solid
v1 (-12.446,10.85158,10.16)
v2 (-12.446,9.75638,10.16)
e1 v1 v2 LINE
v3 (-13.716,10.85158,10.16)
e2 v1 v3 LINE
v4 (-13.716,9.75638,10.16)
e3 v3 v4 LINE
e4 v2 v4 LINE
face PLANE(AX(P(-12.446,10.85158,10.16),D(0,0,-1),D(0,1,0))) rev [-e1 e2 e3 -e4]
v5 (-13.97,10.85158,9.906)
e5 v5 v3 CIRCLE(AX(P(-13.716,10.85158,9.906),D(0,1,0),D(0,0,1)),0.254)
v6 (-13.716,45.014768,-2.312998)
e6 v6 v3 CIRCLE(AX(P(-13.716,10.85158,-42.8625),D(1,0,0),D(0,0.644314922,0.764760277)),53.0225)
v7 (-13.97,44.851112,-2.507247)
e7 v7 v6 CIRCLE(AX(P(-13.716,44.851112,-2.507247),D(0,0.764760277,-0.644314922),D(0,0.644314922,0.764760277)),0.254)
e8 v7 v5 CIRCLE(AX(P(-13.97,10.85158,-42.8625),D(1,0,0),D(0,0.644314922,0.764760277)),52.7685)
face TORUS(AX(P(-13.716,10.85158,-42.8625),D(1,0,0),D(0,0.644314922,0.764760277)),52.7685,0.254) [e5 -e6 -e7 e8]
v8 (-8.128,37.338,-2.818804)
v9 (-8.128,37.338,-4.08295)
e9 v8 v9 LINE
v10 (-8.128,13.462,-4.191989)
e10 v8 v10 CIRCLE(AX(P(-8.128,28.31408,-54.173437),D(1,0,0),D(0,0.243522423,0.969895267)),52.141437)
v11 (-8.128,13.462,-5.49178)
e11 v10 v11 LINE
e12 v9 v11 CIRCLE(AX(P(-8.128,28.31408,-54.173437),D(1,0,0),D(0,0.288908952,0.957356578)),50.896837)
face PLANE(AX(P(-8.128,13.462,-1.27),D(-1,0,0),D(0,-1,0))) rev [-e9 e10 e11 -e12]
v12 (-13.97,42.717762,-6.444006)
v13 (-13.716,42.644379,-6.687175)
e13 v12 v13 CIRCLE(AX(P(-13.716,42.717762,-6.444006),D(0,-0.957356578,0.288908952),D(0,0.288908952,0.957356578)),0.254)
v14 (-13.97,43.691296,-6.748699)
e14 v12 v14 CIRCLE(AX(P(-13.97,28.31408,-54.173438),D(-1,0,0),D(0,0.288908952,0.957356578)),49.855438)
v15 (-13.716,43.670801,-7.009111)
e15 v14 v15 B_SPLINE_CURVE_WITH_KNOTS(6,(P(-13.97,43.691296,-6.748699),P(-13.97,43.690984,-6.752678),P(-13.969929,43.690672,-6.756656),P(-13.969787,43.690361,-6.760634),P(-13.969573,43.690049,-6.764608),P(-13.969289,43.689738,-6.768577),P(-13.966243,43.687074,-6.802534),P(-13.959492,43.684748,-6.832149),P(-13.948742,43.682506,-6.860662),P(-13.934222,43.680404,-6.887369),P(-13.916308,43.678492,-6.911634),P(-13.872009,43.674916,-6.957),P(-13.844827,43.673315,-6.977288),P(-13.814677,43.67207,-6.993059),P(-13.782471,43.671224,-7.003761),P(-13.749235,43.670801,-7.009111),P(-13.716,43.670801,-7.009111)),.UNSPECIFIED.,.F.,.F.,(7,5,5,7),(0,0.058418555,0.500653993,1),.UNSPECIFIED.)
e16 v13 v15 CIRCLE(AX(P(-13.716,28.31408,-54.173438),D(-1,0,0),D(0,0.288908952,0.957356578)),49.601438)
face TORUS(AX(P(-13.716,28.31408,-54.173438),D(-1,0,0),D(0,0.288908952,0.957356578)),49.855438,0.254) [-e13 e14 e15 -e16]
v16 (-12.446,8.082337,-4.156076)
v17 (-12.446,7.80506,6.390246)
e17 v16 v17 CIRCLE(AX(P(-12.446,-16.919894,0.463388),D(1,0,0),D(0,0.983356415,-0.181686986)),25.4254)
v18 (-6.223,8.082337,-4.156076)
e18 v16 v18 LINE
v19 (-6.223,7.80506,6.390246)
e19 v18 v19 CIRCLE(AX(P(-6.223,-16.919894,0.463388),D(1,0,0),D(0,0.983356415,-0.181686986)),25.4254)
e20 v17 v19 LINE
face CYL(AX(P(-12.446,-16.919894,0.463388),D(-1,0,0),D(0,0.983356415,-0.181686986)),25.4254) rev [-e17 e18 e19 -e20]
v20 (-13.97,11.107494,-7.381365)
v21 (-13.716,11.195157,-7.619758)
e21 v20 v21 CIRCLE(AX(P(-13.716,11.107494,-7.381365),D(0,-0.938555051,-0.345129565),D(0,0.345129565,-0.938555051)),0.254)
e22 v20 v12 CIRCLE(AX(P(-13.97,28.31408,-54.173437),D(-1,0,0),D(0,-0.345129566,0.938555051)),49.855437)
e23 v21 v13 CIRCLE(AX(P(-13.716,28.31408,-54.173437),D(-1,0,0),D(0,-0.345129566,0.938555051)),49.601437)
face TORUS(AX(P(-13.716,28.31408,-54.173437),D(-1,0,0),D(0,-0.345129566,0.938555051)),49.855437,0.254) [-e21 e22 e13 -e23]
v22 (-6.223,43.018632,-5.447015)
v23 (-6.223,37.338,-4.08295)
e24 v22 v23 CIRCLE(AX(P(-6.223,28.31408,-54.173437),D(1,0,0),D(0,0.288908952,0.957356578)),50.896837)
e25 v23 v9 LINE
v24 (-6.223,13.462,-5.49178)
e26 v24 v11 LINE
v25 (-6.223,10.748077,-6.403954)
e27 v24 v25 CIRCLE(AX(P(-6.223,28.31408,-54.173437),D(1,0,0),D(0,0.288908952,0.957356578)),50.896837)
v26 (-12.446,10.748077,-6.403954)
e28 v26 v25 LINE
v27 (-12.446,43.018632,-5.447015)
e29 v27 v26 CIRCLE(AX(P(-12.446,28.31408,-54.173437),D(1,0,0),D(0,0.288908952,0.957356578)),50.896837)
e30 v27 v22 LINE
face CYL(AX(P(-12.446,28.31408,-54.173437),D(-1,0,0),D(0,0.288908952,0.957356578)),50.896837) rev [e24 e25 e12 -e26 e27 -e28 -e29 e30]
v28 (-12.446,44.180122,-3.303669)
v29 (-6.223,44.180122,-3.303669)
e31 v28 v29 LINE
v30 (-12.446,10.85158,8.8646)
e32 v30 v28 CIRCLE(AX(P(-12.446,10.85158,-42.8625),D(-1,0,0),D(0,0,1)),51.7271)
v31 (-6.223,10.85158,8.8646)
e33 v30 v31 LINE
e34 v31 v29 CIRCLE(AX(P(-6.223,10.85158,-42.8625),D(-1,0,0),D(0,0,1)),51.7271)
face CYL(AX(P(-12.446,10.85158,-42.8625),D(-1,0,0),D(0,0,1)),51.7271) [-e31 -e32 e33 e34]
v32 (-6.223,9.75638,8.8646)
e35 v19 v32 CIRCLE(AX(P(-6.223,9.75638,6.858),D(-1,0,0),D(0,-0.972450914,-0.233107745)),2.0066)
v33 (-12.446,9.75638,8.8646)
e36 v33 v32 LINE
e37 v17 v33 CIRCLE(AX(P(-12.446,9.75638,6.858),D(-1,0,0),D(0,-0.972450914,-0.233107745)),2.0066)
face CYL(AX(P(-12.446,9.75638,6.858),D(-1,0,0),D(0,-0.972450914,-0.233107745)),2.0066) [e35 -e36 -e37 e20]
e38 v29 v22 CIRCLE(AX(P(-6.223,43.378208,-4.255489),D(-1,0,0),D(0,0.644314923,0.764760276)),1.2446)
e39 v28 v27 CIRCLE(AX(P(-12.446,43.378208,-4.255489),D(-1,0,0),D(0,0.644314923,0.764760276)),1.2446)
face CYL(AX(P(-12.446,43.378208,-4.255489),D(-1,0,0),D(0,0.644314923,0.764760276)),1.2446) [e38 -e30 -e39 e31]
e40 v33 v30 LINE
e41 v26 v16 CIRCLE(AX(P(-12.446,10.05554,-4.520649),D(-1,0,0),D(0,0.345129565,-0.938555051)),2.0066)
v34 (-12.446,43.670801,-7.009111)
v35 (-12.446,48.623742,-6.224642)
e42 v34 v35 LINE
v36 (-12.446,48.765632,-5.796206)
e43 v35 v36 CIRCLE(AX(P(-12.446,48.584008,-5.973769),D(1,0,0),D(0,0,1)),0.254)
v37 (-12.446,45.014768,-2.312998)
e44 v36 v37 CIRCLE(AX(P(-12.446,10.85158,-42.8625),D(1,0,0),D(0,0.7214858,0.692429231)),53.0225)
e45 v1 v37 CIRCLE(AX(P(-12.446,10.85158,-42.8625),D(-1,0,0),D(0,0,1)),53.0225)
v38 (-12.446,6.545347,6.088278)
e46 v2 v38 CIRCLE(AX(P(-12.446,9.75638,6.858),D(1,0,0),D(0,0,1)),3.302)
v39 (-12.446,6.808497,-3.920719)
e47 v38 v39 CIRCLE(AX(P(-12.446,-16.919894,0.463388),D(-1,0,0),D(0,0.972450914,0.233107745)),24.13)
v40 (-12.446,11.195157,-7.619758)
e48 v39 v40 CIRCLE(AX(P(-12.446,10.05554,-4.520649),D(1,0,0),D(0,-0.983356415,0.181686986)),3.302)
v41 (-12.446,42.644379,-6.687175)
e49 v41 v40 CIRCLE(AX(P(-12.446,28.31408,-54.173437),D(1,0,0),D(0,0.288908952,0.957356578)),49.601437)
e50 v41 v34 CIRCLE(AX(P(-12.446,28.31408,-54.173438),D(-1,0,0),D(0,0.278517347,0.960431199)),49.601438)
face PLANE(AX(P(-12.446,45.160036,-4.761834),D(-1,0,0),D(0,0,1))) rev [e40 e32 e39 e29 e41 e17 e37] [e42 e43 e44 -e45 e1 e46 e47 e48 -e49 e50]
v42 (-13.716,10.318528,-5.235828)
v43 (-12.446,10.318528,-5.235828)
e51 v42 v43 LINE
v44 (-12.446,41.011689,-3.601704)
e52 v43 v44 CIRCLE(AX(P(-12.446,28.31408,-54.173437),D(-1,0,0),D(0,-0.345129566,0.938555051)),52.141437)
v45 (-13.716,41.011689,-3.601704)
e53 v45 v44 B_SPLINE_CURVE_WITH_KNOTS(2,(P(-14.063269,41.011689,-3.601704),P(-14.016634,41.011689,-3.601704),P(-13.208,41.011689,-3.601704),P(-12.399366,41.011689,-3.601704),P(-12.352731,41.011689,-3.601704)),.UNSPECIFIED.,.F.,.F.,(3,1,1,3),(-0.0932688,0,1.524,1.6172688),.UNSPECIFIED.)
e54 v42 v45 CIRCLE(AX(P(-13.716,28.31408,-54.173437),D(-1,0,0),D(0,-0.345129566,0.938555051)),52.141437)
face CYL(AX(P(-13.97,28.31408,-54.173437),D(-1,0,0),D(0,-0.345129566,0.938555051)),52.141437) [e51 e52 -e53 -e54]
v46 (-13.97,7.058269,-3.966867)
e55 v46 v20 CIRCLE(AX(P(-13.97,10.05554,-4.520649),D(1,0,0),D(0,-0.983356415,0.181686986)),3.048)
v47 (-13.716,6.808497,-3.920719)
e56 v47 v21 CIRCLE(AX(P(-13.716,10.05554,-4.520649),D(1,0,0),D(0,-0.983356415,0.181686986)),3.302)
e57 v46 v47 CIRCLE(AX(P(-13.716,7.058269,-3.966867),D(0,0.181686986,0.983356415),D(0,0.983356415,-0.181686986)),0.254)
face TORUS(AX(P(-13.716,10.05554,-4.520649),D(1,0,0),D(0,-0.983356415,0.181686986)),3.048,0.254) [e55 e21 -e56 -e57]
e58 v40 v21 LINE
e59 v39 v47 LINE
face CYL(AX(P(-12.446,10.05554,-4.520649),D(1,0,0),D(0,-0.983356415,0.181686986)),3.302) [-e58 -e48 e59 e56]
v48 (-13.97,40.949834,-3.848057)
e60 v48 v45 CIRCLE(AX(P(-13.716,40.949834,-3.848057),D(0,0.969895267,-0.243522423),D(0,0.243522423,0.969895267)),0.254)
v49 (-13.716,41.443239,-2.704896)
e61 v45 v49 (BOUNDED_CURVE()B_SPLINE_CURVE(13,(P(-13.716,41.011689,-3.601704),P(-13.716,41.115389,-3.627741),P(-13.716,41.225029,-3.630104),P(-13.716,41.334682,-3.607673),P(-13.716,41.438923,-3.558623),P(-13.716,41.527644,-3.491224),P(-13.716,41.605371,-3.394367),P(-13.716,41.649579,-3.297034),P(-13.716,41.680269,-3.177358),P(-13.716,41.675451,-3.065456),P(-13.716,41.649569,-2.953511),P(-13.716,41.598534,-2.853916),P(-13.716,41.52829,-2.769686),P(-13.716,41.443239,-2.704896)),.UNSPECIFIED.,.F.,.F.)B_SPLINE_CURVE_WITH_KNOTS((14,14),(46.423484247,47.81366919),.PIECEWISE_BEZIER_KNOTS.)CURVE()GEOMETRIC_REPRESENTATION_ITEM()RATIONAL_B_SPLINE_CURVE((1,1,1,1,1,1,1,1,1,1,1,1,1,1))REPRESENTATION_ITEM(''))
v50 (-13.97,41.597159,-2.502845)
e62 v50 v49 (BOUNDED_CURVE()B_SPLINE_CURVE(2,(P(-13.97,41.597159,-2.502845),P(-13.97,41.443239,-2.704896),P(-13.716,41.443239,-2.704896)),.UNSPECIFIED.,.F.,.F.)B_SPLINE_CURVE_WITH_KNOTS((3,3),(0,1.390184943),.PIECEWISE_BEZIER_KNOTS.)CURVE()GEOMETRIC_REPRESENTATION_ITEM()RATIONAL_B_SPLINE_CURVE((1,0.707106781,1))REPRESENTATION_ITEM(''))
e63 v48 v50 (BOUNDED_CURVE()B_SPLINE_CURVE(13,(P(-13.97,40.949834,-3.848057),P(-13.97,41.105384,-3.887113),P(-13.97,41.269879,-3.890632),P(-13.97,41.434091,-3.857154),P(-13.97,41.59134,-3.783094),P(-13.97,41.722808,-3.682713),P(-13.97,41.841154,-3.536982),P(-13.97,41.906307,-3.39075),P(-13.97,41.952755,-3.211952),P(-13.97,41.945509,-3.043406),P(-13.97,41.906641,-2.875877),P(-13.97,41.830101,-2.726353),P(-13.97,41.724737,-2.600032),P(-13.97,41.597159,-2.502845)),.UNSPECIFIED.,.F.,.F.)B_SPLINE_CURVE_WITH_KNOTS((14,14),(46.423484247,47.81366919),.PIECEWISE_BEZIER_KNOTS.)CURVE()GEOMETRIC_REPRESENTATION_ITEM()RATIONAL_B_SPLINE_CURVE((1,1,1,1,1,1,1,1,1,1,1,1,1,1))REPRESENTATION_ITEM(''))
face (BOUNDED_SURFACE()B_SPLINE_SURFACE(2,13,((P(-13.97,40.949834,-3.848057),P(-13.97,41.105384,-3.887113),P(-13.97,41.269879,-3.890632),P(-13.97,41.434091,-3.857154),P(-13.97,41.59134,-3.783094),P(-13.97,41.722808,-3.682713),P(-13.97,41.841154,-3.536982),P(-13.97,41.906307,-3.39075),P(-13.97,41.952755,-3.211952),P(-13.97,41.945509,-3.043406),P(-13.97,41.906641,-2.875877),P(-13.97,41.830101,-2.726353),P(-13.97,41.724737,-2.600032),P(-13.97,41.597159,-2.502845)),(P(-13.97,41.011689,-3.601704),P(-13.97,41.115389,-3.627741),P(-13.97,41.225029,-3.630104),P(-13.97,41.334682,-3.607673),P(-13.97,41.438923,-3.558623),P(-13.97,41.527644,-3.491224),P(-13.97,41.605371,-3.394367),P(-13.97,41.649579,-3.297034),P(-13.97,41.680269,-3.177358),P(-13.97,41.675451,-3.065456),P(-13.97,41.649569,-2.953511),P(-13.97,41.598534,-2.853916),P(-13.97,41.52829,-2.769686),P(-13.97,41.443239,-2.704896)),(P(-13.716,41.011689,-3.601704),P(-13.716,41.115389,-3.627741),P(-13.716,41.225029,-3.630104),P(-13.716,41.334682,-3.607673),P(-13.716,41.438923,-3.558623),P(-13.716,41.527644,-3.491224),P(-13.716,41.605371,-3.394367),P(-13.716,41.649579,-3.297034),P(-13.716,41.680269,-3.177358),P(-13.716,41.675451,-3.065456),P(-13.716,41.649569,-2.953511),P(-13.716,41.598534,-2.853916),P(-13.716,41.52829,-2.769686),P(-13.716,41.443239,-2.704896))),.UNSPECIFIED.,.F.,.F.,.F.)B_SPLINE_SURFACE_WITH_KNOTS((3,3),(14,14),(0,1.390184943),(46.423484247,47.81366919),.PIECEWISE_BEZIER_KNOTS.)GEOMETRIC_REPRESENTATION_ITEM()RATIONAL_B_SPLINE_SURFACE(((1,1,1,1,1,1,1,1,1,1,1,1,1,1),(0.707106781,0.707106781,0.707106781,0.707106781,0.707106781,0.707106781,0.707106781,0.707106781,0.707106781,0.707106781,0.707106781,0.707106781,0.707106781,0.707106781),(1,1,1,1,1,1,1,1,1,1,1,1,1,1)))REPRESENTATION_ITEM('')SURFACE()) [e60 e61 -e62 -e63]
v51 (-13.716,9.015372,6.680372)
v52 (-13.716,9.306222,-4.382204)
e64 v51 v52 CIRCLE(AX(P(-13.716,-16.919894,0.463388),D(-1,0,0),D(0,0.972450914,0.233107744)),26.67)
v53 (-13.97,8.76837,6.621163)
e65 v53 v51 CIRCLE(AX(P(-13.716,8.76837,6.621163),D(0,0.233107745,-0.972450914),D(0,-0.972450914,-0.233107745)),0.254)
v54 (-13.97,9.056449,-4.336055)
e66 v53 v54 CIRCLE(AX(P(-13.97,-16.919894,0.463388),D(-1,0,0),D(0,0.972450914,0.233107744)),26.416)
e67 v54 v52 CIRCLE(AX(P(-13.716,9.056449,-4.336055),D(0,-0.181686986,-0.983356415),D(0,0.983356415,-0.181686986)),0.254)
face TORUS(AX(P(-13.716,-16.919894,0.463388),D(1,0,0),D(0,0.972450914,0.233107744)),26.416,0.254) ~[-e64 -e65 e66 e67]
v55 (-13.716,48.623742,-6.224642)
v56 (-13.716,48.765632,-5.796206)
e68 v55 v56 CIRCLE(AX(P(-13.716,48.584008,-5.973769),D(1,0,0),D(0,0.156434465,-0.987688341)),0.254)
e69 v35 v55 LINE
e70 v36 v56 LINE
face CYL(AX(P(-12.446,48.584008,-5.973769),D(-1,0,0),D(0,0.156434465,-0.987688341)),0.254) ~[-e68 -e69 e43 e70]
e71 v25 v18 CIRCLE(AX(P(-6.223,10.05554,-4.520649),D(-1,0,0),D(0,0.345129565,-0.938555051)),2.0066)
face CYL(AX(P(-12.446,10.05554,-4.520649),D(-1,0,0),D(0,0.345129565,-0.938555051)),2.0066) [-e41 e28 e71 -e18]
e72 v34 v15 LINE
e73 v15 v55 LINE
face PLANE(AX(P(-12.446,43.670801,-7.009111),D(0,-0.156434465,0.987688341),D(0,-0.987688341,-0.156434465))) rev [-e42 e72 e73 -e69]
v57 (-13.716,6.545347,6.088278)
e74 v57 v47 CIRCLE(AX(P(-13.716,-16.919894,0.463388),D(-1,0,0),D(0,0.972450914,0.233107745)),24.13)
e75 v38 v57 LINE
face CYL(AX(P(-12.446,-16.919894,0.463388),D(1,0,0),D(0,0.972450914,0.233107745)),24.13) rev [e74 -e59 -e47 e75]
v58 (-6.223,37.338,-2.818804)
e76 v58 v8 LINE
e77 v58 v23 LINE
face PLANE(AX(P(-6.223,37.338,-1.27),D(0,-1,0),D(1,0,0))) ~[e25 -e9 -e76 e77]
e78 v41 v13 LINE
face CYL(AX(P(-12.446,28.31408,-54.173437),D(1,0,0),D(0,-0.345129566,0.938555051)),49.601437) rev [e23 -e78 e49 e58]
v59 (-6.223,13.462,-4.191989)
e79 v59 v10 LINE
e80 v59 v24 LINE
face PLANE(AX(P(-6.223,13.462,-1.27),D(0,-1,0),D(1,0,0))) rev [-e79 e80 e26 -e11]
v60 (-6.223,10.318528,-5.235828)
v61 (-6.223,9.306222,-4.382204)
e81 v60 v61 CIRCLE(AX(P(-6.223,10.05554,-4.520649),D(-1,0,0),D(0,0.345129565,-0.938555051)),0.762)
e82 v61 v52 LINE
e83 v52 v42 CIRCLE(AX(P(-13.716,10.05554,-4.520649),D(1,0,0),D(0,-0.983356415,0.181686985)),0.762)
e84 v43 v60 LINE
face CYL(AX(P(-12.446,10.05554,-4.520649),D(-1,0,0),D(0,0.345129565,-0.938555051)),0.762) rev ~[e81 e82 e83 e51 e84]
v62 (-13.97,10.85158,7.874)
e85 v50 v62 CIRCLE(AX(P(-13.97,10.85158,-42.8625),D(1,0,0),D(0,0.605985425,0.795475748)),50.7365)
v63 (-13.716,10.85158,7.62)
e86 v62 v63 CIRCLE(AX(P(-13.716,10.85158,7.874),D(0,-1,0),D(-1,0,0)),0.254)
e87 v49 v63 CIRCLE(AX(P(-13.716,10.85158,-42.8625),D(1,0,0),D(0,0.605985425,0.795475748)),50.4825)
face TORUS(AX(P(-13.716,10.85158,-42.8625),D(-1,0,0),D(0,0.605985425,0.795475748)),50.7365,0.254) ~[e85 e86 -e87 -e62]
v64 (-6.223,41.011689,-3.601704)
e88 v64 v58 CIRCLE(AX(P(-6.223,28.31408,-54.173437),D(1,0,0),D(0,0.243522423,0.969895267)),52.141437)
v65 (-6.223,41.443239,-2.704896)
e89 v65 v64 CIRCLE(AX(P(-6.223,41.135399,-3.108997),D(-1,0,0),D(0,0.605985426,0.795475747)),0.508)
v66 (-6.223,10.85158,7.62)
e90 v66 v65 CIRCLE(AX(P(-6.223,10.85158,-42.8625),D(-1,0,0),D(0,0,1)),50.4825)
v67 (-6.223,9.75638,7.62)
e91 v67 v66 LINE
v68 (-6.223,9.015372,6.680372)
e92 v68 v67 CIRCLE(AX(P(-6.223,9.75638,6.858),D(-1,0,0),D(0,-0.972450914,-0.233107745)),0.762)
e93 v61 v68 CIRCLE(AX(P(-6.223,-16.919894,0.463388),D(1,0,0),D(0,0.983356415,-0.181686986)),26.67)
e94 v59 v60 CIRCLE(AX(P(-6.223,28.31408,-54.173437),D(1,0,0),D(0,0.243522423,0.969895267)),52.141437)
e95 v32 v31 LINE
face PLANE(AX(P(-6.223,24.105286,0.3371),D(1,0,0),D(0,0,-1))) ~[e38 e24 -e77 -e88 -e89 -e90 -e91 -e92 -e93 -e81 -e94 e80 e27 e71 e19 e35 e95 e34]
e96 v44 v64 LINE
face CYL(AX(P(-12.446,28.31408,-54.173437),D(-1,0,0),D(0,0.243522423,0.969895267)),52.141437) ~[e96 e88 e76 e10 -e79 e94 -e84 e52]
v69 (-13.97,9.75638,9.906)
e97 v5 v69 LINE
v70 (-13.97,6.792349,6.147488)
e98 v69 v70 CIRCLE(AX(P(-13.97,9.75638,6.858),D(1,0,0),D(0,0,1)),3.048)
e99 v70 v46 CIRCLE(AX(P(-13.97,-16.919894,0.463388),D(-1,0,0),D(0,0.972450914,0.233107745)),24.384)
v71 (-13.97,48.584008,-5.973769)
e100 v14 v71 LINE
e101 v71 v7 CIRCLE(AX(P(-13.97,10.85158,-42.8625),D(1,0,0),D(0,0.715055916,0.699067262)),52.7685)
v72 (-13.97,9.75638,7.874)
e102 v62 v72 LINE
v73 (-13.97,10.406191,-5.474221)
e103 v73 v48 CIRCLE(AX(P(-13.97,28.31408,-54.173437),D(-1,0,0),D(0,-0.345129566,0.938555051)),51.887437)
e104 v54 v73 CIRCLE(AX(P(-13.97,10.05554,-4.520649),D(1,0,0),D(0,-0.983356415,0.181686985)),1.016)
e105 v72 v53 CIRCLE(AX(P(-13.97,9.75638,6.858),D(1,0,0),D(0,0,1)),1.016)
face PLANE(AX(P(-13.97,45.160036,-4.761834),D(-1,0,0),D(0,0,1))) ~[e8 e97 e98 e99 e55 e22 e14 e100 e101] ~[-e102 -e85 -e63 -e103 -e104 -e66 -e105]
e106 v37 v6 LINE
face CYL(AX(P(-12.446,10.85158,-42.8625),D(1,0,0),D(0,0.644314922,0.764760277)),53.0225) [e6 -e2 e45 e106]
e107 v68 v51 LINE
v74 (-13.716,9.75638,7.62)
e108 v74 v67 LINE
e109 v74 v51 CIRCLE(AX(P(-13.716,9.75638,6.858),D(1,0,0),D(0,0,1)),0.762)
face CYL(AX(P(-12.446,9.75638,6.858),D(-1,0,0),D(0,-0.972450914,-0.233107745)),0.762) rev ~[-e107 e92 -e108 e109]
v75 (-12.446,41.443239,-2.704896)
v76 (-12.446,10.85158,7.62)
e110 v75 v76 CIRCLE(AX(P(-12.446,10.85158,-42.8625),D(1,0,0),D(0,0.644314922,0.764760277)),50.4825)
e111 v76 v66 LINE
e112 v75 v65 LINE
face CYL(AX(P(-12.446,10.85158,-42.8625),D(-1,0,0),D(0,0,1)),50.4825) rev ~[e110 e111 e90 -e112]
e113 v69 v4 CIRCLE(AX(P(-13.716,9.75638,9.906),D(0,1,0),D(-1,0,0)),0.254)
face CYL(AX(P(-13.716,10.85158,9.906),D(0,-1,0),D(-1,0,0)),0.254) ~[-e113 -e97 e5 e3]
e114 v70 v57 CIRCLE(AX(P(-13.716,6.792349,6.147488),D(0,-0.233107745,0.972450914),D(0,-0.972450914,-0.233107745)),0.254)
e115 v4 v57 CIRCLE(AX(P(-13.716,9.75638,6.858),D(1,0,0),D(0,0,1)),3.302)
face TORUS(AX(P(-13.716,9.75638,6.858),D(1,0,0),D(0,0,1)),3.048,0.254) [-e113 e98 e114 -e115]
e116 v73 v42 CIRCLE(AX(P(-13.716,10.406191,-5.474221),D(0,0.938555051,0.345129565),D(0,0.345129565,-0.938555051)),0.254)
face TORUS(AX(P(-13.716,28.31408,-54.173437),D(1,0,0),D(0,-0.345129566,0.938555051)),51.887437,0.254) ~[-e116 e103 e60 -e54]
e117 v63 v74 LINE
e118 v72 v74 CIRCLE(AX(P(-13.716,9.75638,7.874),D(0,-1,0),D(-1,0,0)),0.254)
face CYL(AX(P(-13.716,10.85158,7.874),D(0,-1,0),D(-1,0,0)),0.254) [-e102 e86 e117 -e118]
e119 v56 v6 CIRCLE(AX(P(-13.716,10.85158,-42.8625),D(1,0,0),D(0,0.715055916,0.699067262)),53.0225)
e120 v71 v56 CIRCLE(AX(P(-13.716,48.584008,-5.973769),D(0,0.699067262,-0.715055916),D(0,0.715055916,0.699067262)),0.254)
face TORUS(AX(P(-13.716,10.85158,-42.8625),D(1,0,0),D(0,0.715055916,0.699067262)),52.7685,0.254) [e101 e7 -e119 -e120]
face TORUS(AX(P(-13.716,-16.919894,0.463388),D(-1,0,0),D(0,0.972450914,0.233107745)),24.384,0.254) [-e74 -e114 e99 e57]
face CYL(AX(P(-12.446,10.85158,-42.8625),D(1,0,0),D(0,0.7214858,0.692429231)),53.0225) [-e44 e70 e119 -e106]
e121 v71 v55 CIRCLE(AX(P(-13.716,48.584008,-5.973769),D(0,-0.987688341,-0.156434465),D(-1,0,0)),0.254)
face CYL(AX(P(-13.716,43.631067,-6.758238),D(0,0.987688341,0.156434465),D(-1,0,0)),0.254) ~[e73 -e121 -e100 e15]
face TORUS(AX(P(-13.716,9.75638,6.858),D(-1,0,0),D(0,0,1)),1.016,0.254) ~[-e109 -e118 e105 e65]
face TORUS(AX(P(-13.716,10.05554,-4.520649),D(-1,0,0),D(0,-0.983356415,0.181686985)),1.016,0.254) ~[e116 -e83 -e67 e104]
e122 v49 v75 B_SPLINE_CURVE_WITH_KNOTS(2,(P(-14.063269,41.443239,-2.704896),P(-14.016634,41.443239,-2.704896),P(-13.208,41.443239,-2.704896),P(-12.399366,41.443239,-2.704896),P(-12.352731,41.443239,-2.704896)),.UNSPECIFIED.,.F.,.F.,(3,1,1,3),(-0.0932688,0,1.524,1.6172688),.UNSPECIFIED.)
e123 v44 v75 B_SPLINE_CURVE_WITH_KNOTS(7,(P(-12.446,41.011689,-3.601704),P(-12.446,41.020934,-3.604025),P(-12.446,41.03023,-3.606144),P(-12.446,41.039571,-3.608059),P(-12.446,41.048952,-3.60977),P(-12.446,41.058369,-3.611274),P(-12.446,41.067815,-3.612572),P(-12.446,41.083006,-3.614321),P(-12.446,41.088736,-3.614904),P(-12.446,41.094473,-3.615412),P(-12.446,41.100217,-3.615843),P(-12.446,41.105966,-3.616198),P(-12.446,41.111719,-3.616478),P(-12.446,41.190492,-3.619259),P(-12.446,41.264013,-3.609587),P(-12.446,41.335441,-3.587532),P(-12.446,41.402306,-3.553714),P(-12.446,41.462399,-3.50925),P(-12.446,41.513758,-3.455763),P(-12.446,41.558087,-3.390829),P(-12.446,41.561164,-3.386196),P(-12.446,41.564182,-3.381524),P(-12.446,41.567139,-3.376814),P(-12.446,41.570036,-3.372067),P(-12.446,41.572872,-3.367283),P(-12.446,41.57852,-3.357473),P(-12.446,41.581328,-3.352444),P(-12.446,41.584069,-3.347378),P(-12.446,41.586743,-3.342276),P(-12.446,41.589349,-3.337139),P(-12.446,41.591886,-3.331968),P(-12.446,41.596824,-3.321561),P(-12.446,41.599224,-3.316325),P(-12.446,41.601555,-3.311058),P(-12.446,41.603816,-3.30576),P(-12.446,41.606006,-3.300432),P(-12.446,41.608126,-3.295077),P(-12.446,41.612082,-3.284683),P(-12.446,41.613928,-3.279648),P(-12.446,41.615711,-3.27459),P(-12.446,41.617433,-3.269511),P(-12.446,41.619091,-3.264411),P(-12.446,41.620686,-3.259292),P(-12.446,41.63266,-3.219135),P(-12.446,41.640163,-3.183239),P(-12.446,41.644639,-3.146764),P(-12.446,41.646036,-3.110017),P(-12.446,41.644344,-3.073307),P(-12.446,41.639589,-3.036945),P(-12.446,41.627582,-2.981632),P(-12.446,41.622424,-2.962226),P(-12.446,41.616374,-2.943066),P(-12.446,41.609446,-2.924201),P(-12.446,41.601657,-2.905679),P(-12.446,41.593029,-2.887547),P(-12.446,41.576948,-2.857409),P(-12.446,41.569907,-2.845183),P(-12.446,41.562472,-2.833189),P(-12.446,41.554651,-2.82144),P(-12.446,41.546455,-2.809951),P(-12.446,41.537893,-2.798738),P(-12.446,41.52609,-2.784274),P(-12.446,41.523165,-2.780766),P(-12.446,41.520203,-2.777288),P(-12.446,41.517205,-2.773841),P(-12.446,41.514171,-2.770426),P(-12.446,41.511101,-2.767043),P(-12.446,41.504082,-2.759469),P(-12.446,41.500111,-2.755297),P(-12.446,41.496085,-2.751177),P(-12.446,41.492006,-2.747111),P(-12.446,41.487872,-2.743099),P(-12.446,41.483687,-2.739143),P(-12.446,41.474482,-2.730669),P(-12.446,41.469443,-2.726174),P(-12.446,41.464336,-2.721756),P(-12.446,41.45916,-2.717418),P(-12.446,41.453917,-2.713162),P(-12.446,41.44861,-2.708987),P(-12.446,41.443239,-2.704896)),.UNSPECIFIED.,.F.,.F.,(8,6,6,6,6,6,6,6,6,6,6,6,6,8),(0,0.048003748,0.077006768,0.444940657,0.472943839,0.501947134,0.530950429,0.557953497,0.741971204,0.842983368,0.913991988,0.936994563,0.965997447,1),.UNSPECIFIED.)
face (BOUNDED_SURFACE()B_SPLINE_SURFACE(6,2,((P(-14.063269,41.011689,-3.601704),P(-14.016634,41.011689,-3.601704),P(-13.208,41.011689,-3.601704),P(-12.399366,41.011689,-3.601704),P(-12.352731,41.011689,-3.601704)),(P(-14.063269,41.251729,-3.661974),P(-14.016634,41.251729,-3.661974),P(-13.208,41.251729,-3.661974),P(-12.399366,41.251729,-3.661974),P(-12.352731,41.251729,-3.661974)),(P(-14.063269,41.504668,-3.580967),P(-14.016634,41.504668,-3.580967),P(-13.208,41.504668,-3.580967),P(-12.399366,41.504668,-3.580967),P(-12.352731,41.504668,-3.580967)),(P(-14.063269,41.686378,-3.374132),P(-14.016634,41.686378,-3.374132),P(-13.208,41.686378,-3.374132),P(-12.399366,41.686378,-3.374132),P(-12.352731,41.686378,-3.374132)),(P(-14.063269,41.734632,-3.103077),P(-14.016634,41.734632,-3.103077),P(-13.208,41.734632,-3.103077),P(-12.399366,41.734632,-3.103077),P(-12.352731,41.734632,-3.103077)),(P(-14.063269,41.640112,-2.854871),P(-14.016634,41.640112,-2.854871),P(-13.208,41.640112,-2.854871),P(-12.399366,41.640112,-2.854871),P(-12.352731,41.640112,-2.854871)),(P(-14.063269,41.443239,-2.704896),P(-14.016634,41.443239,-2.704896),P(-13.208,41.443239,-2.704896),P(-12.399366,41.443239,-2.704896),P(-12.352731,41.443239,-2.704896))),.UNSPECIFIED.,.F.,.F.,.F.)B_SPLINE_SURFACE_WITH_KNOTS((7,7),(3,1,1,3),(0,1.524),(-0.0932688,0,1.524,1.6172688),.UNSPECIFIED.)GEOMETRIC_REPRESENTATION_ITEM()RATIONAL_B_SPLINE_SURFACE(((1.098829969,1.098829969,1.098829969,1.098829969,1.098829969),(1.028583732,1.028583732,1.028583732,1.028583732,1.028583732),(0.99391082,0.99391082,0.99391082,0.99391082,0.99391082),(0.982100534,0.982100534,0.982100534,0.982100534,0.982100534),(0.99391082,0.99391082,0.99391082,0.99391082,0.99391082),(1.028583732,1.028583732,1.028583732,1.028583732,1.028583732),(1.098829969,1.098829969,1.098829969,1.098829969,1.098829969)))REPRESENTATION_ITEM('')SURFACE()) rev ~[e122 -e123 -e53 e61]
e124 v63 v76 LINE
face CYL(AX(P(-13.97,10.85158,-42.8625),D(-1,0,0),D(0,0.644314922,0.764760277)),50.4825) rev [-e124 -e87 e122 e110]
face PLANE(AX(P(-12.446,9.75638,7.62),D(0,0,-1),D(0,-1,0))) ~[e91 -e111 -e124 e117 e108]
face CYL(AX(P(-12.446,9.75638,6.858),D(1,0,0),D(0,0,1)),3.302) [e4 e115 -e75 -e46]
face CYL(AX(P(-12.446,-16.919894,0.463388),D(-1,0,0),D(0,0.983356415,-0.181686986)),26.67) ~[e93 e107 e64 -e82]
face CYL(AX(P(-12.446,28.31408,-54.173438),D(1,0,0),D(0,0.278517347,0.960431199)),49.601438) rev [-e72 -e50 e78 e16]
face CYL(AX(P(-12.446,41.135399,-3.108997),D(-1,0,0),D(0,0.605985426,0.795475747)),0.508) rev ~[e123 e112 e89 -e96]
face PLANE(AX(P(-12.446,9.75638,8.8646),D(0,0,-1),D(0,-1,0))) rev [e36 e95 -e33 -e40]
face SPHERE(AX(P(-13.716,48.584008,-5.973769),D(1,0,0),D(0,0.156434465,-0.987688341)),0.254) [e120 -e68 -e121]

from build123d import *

# Parameters (mm, degrees)
BOSS_EXTRUDE1_DEPTH = 1.524
CUT_EXTRUDE1_DEPTH  = 1.524
FILLET1_R           = 0.508
BOSS_EXTRUDE2_DEPTH = 6.223
BOSS_EXTRUDE3_START = -1.524
BOSS_EXTRUDE3_DEPTH = 1.524
CUT_EXTRUDE2_START  = -6.223
CUT_EXTRUDE2_DEPTH  = 6.223
FILLET2_R           = 0.254
SKETCH9_W           = 1.905
SKETCH9_H           = 23.876
CUT_EXTRUDE4_DEPTH  = 51.542276073
FILLET3_R           = 0.254


with BuildPart() as part:
    # Sketch2 → Boss-Extrude1 (new body)
    with BuildSketch(Plane(origin=(0, 0, 0), x_dir=(0, 0, -1), z_dir=(1, 0, 0))):
        with BuildLine():
            Line((-10.16, 10.851579944), (-10.16, 9.756379827))
            ThreePointArc((-10.16, 9.756379827), (-8.902698353, 7.16361824), (-6.088278228, 6.54534691))
            ThreePointArc((-6.088278228, 6.54534691), (-1.097578785, 7.201770952), (3.920718614, 6.808496661))
            ThreePointArc((3.920718614, 6.808496661), (7.044965017, 7.926917254), (7.619757818, 11.195157369))
            ThreePointArc((7.619757818, 11.195157369), (4.593793799, 26.843864795), (6.687175028, 42.644379261))
            ThreePointArc((6.687175028, 42.644379261), (5.465660141, 45.611386582), (2.312998216, 45.014767901))
            ThreePointArc((2.312998216, 45.014767901), (-6.944233805, 29.036045126), (-10.16, 10.851579944))
        make_face()
    extrude(amount=BOSS_EXTRUDE1_DEPTH)

    # Sketch3 → Cut-Extrude1 (cut)
    with BuildSketch(Plane(origin=(1.524, 0, 0), x_dir=(0, 0, -1), z_dir=(1, 0, 0))):
        with BuildLine():
            Line((-7.62, 10.851579944), (-7.62, 9.756379827))
            ThreePointArc((-7.62, 9.756379827), (-7.329853466, 9.15805023), (-6.680371899, 9.015372231))
            ThreePointArc((-6.680371899, 9.015372231), (-1.164335672, 9.74089354), (4.382203558, 9.306221955))
            ThreePointArc((4.382203558, 9.306221955), (5.103183497, 9.564319015), (5.23582799, 10.318528273))
            ThreePointArc((5.23582799, 10.318528273), (2.05490982, 26.768577734), (4.25548932, 43.378207999))
            ThreePointArc((4.25548932, 43.378207999), (-4.558282485, 28.164933022), (-7.62, 10.851579944))
        make_face()
    extrude(amount=-CUT_EXTRUDE1_DEPTH, mode=Mode.SUBTRACT)

    # Fillet1
    fillet1_edges = [part.edges().sort_by_distance(p)[0] for p in [
        (0.762, 43.378207999, -4.25548932),
    ]]
    fillet(fillet1_edges, radius=FILLET1_R)

    # Sketch4 → Boss-Extrude2 (add)
    with BuildSketch(Plane.ZY):
        with BuildLine():
            Line((8.89, 9.756379827), (8.89, 10.851579944))
            ThreePointArc((8.89, 10.851579944), (5.751258145, 28.600489074), (-3.284243768, 44.19648795))
            ThreePointArc((-3.284243768, 44.19648795), (-4.86057473, 44.49479729), (-5.471332174, 43.01129363))
            ThreePointArc((-5.471332174, 43.01129363), (-3.32435181, 26.806221264), (-6.427792904, 10.756842821))
            ThreePointArc((-6.427792904, 10.756842821), (-6.074074257, 8.745618135), (-4.151461086, 8.057359308))
            ThreePointArc((-4.151461086, 8.057359308), (1.130957229, 8.471332246), (6.384325063, 7.78035957))
            ThreePointArc((6.384325063, 7.78035957), (8.116275909, 8.160834235), (8.89, 9.756379827))
        make_face()
        with BuildLine():
            Line((7.62, 9.756379827), (7.62, 10.851579944))
            ThreePointArc((7.62, 10.851579944), (4.96917921, 26.995100943), (-2.704895567, 41.443239142))
            ThreePointArc((-2.704895567, 41.443239142), (-3.329273356, 41.593156599), (-3.601704042, 41.011689155))
            ThreePointArc((-3.601704042, 41.011689155), (-2.10574247, 25.541961828), (-5.23582799, 10.318528273))
            ThreePointArc((-5.23582799, 10.318528273), (-5.103183497, 9.564319015), (-4.382203558, 9.306221955))
            ThreePointArc((-4.382203558, 9.306221955), (1.164335672, 9.74089354), (6.680371899, 9.015372231))
            ThreePointArc((6.680371899, 9.015372231), (7.329853466, 9.15805023), (7.62, 9.756379827))
        make_face(mode=Mode.SUBTRACT)
    extrude(amount=BOSS_EXTRUDE2_DEPTH)

    # Sketch5 → Boss-Extrude3 (add)
    with BuildSketch(Plane(origin=(1.524, 0, 0), x_dir=(0, 0, -1), z_dir=(1, 0, 0)).offset(BOSS_EXTRUDE3_START)):
        with BuildLine():
            Line((7.009110806, 43.67080126), (6.148171078, 49.106560771))
            ThreePointArc((6.148171078, 49.106560771), (3.588810081, 46.474083877), (1.217761815, 43.67080126))
            Line((1.217761815, 43.67080126), (6.534669415, 42.12894069))
            ThreePointArc((6.534669415, 42.12894069), (6.765621389, 42.901799905), (7.009110806, 43.67080126))
        make_face()
    extrude(amount=BOSS_EXTRUDE3_DEPTH)

    # Sketch6 → Cut-Extrude2 (cut)
    with BuildSketch(Plane.ZY.offset(6.223).offset(CUT_EXTRUDE2_START)):
        with BuildLine():
            Line((8.89, 9.756379827), (8.89, 10.851579944))
            ThreePointArc((8.89, 10.851579944), (5.751258145, 28.600489074), (-3.284243768, 44.19648795))
            ThreePointArc((-3.284243768, 44.19648795), (-4.86057473, 44.49479729), (-5.471332174, 43.01129363))
            ThreePointArc((-5.471332174, 43.01129363), (-3.32435181, 26.806221264), (-6.427792904, 10.756842821))
            ThreePointArc((-6.427792904, 10.756842821), (-6.074074257, 8.745618135), (-4.151461086, 8.057359308))
            ThreePointArc((-4.151461086, 8.057359308), (1.130957229, 8.471332246), (6.384325063, 7.78035957))
            ThreePointArc((6.384325063, 7.78035957), (8.116275909, 8.160834235), (8.89, 9.756379827))
        make_face()
        with BuildLine():
            Line((8.8646, 9.756379827), (8.8646, 10.851579944))
            ThreePointArc((8.8646, 10.851579944), (5.727398631, 28.591777953), (-3.303668679, 44.180122351))
            ThreePointArc((-3.303668679, 44.180122351), (-4.848473022, 44.472465504), (-5.447015317, 43.018631917))
            ThreePointArc((-5.447015317, 43.018631917), (-3.29896297, 26.805468394), (-6.403953606, 10.74807653))
            ThreePointArc((-6.403953606, 10.74807653), (-6.054656442, 8.761992152), (-4.156075935, 8.082336561))
            ThreePointArc((-4.156075935, 8.082336561), (1.131624798, 8.496723472), (6.390246, 7.805059824))
            ThreePointArc((6.390246, 7.805059824), (8.100547461, 8.180778555), (8.8646, 9.756379827))
        make_face(mode=Mode.SUBTRACT)
    extrude(amount=CUT_EXTRUDE2_DEPTH, mode=Mode.SUBTRACT)

    # Fillet2
    fillet2_edges = [part.edges().sort_by_distance(p)[0] for p in [
        (0.762, 49.106560771, -6.148171078),
    ]]
    fillet(fillet2_edges, radius=FILLET2_R)

    # Sketch9 → Cut-Extrude4 (cut, through all)
    with BuildSketch(Plane.XY.offset(-1.27)):
        with Locations((-5.2705, 25.4)):
            Rectangle(SKETCH9_W, SKETCH9_H)
    extrude(amount=-CUT_EXTRUDE4_DEPTH, mode=Mode.SUBTRACT)

    # Fillet3
    fillet3_edges = [part.edges().sort_by_distance(p)[0] for p in [
        (1.524, 10.303979886, 10.16),
        (1.524, 31.419004876, 6.008417097),
        (1.524, 48.825128825, -6.053623792),
        (1.524, 7.16361824, 8.902698353),
        (1.524, 7.201770952, 1.097578785),
        (1.524, 7.926917254, -7.044965017),
        (1.524, 10.303979886, 7.62),
        (1.524, 9.15805023, 7.329853466),
        (1.524, 9.74089354, 1.164335672),
        (1.524, 9.564319015, -5.103183497),
        (1.524, 25.541961828, -2.10574247),
        (1.524, 27.381577524, -4.580766254),
        (1.524, 26.995100943, 4.96917921),
        (1.524, 41.593156599, -3.329273357),
        (1.524, 46.147271822, -6.616876402),
    ]]
    fillet(fillet3_edges, radius=FILLET3_R)


with BuildPart() as body_2:
    # Mirror2: mirrored copy
    add(part.part.mirror(Plane(origin=(-6.223, 10.851579944, -42.8625), x_dir=(0, 0, 1), z_dir=(-1, 0, 0))))


solid = body_2.part
